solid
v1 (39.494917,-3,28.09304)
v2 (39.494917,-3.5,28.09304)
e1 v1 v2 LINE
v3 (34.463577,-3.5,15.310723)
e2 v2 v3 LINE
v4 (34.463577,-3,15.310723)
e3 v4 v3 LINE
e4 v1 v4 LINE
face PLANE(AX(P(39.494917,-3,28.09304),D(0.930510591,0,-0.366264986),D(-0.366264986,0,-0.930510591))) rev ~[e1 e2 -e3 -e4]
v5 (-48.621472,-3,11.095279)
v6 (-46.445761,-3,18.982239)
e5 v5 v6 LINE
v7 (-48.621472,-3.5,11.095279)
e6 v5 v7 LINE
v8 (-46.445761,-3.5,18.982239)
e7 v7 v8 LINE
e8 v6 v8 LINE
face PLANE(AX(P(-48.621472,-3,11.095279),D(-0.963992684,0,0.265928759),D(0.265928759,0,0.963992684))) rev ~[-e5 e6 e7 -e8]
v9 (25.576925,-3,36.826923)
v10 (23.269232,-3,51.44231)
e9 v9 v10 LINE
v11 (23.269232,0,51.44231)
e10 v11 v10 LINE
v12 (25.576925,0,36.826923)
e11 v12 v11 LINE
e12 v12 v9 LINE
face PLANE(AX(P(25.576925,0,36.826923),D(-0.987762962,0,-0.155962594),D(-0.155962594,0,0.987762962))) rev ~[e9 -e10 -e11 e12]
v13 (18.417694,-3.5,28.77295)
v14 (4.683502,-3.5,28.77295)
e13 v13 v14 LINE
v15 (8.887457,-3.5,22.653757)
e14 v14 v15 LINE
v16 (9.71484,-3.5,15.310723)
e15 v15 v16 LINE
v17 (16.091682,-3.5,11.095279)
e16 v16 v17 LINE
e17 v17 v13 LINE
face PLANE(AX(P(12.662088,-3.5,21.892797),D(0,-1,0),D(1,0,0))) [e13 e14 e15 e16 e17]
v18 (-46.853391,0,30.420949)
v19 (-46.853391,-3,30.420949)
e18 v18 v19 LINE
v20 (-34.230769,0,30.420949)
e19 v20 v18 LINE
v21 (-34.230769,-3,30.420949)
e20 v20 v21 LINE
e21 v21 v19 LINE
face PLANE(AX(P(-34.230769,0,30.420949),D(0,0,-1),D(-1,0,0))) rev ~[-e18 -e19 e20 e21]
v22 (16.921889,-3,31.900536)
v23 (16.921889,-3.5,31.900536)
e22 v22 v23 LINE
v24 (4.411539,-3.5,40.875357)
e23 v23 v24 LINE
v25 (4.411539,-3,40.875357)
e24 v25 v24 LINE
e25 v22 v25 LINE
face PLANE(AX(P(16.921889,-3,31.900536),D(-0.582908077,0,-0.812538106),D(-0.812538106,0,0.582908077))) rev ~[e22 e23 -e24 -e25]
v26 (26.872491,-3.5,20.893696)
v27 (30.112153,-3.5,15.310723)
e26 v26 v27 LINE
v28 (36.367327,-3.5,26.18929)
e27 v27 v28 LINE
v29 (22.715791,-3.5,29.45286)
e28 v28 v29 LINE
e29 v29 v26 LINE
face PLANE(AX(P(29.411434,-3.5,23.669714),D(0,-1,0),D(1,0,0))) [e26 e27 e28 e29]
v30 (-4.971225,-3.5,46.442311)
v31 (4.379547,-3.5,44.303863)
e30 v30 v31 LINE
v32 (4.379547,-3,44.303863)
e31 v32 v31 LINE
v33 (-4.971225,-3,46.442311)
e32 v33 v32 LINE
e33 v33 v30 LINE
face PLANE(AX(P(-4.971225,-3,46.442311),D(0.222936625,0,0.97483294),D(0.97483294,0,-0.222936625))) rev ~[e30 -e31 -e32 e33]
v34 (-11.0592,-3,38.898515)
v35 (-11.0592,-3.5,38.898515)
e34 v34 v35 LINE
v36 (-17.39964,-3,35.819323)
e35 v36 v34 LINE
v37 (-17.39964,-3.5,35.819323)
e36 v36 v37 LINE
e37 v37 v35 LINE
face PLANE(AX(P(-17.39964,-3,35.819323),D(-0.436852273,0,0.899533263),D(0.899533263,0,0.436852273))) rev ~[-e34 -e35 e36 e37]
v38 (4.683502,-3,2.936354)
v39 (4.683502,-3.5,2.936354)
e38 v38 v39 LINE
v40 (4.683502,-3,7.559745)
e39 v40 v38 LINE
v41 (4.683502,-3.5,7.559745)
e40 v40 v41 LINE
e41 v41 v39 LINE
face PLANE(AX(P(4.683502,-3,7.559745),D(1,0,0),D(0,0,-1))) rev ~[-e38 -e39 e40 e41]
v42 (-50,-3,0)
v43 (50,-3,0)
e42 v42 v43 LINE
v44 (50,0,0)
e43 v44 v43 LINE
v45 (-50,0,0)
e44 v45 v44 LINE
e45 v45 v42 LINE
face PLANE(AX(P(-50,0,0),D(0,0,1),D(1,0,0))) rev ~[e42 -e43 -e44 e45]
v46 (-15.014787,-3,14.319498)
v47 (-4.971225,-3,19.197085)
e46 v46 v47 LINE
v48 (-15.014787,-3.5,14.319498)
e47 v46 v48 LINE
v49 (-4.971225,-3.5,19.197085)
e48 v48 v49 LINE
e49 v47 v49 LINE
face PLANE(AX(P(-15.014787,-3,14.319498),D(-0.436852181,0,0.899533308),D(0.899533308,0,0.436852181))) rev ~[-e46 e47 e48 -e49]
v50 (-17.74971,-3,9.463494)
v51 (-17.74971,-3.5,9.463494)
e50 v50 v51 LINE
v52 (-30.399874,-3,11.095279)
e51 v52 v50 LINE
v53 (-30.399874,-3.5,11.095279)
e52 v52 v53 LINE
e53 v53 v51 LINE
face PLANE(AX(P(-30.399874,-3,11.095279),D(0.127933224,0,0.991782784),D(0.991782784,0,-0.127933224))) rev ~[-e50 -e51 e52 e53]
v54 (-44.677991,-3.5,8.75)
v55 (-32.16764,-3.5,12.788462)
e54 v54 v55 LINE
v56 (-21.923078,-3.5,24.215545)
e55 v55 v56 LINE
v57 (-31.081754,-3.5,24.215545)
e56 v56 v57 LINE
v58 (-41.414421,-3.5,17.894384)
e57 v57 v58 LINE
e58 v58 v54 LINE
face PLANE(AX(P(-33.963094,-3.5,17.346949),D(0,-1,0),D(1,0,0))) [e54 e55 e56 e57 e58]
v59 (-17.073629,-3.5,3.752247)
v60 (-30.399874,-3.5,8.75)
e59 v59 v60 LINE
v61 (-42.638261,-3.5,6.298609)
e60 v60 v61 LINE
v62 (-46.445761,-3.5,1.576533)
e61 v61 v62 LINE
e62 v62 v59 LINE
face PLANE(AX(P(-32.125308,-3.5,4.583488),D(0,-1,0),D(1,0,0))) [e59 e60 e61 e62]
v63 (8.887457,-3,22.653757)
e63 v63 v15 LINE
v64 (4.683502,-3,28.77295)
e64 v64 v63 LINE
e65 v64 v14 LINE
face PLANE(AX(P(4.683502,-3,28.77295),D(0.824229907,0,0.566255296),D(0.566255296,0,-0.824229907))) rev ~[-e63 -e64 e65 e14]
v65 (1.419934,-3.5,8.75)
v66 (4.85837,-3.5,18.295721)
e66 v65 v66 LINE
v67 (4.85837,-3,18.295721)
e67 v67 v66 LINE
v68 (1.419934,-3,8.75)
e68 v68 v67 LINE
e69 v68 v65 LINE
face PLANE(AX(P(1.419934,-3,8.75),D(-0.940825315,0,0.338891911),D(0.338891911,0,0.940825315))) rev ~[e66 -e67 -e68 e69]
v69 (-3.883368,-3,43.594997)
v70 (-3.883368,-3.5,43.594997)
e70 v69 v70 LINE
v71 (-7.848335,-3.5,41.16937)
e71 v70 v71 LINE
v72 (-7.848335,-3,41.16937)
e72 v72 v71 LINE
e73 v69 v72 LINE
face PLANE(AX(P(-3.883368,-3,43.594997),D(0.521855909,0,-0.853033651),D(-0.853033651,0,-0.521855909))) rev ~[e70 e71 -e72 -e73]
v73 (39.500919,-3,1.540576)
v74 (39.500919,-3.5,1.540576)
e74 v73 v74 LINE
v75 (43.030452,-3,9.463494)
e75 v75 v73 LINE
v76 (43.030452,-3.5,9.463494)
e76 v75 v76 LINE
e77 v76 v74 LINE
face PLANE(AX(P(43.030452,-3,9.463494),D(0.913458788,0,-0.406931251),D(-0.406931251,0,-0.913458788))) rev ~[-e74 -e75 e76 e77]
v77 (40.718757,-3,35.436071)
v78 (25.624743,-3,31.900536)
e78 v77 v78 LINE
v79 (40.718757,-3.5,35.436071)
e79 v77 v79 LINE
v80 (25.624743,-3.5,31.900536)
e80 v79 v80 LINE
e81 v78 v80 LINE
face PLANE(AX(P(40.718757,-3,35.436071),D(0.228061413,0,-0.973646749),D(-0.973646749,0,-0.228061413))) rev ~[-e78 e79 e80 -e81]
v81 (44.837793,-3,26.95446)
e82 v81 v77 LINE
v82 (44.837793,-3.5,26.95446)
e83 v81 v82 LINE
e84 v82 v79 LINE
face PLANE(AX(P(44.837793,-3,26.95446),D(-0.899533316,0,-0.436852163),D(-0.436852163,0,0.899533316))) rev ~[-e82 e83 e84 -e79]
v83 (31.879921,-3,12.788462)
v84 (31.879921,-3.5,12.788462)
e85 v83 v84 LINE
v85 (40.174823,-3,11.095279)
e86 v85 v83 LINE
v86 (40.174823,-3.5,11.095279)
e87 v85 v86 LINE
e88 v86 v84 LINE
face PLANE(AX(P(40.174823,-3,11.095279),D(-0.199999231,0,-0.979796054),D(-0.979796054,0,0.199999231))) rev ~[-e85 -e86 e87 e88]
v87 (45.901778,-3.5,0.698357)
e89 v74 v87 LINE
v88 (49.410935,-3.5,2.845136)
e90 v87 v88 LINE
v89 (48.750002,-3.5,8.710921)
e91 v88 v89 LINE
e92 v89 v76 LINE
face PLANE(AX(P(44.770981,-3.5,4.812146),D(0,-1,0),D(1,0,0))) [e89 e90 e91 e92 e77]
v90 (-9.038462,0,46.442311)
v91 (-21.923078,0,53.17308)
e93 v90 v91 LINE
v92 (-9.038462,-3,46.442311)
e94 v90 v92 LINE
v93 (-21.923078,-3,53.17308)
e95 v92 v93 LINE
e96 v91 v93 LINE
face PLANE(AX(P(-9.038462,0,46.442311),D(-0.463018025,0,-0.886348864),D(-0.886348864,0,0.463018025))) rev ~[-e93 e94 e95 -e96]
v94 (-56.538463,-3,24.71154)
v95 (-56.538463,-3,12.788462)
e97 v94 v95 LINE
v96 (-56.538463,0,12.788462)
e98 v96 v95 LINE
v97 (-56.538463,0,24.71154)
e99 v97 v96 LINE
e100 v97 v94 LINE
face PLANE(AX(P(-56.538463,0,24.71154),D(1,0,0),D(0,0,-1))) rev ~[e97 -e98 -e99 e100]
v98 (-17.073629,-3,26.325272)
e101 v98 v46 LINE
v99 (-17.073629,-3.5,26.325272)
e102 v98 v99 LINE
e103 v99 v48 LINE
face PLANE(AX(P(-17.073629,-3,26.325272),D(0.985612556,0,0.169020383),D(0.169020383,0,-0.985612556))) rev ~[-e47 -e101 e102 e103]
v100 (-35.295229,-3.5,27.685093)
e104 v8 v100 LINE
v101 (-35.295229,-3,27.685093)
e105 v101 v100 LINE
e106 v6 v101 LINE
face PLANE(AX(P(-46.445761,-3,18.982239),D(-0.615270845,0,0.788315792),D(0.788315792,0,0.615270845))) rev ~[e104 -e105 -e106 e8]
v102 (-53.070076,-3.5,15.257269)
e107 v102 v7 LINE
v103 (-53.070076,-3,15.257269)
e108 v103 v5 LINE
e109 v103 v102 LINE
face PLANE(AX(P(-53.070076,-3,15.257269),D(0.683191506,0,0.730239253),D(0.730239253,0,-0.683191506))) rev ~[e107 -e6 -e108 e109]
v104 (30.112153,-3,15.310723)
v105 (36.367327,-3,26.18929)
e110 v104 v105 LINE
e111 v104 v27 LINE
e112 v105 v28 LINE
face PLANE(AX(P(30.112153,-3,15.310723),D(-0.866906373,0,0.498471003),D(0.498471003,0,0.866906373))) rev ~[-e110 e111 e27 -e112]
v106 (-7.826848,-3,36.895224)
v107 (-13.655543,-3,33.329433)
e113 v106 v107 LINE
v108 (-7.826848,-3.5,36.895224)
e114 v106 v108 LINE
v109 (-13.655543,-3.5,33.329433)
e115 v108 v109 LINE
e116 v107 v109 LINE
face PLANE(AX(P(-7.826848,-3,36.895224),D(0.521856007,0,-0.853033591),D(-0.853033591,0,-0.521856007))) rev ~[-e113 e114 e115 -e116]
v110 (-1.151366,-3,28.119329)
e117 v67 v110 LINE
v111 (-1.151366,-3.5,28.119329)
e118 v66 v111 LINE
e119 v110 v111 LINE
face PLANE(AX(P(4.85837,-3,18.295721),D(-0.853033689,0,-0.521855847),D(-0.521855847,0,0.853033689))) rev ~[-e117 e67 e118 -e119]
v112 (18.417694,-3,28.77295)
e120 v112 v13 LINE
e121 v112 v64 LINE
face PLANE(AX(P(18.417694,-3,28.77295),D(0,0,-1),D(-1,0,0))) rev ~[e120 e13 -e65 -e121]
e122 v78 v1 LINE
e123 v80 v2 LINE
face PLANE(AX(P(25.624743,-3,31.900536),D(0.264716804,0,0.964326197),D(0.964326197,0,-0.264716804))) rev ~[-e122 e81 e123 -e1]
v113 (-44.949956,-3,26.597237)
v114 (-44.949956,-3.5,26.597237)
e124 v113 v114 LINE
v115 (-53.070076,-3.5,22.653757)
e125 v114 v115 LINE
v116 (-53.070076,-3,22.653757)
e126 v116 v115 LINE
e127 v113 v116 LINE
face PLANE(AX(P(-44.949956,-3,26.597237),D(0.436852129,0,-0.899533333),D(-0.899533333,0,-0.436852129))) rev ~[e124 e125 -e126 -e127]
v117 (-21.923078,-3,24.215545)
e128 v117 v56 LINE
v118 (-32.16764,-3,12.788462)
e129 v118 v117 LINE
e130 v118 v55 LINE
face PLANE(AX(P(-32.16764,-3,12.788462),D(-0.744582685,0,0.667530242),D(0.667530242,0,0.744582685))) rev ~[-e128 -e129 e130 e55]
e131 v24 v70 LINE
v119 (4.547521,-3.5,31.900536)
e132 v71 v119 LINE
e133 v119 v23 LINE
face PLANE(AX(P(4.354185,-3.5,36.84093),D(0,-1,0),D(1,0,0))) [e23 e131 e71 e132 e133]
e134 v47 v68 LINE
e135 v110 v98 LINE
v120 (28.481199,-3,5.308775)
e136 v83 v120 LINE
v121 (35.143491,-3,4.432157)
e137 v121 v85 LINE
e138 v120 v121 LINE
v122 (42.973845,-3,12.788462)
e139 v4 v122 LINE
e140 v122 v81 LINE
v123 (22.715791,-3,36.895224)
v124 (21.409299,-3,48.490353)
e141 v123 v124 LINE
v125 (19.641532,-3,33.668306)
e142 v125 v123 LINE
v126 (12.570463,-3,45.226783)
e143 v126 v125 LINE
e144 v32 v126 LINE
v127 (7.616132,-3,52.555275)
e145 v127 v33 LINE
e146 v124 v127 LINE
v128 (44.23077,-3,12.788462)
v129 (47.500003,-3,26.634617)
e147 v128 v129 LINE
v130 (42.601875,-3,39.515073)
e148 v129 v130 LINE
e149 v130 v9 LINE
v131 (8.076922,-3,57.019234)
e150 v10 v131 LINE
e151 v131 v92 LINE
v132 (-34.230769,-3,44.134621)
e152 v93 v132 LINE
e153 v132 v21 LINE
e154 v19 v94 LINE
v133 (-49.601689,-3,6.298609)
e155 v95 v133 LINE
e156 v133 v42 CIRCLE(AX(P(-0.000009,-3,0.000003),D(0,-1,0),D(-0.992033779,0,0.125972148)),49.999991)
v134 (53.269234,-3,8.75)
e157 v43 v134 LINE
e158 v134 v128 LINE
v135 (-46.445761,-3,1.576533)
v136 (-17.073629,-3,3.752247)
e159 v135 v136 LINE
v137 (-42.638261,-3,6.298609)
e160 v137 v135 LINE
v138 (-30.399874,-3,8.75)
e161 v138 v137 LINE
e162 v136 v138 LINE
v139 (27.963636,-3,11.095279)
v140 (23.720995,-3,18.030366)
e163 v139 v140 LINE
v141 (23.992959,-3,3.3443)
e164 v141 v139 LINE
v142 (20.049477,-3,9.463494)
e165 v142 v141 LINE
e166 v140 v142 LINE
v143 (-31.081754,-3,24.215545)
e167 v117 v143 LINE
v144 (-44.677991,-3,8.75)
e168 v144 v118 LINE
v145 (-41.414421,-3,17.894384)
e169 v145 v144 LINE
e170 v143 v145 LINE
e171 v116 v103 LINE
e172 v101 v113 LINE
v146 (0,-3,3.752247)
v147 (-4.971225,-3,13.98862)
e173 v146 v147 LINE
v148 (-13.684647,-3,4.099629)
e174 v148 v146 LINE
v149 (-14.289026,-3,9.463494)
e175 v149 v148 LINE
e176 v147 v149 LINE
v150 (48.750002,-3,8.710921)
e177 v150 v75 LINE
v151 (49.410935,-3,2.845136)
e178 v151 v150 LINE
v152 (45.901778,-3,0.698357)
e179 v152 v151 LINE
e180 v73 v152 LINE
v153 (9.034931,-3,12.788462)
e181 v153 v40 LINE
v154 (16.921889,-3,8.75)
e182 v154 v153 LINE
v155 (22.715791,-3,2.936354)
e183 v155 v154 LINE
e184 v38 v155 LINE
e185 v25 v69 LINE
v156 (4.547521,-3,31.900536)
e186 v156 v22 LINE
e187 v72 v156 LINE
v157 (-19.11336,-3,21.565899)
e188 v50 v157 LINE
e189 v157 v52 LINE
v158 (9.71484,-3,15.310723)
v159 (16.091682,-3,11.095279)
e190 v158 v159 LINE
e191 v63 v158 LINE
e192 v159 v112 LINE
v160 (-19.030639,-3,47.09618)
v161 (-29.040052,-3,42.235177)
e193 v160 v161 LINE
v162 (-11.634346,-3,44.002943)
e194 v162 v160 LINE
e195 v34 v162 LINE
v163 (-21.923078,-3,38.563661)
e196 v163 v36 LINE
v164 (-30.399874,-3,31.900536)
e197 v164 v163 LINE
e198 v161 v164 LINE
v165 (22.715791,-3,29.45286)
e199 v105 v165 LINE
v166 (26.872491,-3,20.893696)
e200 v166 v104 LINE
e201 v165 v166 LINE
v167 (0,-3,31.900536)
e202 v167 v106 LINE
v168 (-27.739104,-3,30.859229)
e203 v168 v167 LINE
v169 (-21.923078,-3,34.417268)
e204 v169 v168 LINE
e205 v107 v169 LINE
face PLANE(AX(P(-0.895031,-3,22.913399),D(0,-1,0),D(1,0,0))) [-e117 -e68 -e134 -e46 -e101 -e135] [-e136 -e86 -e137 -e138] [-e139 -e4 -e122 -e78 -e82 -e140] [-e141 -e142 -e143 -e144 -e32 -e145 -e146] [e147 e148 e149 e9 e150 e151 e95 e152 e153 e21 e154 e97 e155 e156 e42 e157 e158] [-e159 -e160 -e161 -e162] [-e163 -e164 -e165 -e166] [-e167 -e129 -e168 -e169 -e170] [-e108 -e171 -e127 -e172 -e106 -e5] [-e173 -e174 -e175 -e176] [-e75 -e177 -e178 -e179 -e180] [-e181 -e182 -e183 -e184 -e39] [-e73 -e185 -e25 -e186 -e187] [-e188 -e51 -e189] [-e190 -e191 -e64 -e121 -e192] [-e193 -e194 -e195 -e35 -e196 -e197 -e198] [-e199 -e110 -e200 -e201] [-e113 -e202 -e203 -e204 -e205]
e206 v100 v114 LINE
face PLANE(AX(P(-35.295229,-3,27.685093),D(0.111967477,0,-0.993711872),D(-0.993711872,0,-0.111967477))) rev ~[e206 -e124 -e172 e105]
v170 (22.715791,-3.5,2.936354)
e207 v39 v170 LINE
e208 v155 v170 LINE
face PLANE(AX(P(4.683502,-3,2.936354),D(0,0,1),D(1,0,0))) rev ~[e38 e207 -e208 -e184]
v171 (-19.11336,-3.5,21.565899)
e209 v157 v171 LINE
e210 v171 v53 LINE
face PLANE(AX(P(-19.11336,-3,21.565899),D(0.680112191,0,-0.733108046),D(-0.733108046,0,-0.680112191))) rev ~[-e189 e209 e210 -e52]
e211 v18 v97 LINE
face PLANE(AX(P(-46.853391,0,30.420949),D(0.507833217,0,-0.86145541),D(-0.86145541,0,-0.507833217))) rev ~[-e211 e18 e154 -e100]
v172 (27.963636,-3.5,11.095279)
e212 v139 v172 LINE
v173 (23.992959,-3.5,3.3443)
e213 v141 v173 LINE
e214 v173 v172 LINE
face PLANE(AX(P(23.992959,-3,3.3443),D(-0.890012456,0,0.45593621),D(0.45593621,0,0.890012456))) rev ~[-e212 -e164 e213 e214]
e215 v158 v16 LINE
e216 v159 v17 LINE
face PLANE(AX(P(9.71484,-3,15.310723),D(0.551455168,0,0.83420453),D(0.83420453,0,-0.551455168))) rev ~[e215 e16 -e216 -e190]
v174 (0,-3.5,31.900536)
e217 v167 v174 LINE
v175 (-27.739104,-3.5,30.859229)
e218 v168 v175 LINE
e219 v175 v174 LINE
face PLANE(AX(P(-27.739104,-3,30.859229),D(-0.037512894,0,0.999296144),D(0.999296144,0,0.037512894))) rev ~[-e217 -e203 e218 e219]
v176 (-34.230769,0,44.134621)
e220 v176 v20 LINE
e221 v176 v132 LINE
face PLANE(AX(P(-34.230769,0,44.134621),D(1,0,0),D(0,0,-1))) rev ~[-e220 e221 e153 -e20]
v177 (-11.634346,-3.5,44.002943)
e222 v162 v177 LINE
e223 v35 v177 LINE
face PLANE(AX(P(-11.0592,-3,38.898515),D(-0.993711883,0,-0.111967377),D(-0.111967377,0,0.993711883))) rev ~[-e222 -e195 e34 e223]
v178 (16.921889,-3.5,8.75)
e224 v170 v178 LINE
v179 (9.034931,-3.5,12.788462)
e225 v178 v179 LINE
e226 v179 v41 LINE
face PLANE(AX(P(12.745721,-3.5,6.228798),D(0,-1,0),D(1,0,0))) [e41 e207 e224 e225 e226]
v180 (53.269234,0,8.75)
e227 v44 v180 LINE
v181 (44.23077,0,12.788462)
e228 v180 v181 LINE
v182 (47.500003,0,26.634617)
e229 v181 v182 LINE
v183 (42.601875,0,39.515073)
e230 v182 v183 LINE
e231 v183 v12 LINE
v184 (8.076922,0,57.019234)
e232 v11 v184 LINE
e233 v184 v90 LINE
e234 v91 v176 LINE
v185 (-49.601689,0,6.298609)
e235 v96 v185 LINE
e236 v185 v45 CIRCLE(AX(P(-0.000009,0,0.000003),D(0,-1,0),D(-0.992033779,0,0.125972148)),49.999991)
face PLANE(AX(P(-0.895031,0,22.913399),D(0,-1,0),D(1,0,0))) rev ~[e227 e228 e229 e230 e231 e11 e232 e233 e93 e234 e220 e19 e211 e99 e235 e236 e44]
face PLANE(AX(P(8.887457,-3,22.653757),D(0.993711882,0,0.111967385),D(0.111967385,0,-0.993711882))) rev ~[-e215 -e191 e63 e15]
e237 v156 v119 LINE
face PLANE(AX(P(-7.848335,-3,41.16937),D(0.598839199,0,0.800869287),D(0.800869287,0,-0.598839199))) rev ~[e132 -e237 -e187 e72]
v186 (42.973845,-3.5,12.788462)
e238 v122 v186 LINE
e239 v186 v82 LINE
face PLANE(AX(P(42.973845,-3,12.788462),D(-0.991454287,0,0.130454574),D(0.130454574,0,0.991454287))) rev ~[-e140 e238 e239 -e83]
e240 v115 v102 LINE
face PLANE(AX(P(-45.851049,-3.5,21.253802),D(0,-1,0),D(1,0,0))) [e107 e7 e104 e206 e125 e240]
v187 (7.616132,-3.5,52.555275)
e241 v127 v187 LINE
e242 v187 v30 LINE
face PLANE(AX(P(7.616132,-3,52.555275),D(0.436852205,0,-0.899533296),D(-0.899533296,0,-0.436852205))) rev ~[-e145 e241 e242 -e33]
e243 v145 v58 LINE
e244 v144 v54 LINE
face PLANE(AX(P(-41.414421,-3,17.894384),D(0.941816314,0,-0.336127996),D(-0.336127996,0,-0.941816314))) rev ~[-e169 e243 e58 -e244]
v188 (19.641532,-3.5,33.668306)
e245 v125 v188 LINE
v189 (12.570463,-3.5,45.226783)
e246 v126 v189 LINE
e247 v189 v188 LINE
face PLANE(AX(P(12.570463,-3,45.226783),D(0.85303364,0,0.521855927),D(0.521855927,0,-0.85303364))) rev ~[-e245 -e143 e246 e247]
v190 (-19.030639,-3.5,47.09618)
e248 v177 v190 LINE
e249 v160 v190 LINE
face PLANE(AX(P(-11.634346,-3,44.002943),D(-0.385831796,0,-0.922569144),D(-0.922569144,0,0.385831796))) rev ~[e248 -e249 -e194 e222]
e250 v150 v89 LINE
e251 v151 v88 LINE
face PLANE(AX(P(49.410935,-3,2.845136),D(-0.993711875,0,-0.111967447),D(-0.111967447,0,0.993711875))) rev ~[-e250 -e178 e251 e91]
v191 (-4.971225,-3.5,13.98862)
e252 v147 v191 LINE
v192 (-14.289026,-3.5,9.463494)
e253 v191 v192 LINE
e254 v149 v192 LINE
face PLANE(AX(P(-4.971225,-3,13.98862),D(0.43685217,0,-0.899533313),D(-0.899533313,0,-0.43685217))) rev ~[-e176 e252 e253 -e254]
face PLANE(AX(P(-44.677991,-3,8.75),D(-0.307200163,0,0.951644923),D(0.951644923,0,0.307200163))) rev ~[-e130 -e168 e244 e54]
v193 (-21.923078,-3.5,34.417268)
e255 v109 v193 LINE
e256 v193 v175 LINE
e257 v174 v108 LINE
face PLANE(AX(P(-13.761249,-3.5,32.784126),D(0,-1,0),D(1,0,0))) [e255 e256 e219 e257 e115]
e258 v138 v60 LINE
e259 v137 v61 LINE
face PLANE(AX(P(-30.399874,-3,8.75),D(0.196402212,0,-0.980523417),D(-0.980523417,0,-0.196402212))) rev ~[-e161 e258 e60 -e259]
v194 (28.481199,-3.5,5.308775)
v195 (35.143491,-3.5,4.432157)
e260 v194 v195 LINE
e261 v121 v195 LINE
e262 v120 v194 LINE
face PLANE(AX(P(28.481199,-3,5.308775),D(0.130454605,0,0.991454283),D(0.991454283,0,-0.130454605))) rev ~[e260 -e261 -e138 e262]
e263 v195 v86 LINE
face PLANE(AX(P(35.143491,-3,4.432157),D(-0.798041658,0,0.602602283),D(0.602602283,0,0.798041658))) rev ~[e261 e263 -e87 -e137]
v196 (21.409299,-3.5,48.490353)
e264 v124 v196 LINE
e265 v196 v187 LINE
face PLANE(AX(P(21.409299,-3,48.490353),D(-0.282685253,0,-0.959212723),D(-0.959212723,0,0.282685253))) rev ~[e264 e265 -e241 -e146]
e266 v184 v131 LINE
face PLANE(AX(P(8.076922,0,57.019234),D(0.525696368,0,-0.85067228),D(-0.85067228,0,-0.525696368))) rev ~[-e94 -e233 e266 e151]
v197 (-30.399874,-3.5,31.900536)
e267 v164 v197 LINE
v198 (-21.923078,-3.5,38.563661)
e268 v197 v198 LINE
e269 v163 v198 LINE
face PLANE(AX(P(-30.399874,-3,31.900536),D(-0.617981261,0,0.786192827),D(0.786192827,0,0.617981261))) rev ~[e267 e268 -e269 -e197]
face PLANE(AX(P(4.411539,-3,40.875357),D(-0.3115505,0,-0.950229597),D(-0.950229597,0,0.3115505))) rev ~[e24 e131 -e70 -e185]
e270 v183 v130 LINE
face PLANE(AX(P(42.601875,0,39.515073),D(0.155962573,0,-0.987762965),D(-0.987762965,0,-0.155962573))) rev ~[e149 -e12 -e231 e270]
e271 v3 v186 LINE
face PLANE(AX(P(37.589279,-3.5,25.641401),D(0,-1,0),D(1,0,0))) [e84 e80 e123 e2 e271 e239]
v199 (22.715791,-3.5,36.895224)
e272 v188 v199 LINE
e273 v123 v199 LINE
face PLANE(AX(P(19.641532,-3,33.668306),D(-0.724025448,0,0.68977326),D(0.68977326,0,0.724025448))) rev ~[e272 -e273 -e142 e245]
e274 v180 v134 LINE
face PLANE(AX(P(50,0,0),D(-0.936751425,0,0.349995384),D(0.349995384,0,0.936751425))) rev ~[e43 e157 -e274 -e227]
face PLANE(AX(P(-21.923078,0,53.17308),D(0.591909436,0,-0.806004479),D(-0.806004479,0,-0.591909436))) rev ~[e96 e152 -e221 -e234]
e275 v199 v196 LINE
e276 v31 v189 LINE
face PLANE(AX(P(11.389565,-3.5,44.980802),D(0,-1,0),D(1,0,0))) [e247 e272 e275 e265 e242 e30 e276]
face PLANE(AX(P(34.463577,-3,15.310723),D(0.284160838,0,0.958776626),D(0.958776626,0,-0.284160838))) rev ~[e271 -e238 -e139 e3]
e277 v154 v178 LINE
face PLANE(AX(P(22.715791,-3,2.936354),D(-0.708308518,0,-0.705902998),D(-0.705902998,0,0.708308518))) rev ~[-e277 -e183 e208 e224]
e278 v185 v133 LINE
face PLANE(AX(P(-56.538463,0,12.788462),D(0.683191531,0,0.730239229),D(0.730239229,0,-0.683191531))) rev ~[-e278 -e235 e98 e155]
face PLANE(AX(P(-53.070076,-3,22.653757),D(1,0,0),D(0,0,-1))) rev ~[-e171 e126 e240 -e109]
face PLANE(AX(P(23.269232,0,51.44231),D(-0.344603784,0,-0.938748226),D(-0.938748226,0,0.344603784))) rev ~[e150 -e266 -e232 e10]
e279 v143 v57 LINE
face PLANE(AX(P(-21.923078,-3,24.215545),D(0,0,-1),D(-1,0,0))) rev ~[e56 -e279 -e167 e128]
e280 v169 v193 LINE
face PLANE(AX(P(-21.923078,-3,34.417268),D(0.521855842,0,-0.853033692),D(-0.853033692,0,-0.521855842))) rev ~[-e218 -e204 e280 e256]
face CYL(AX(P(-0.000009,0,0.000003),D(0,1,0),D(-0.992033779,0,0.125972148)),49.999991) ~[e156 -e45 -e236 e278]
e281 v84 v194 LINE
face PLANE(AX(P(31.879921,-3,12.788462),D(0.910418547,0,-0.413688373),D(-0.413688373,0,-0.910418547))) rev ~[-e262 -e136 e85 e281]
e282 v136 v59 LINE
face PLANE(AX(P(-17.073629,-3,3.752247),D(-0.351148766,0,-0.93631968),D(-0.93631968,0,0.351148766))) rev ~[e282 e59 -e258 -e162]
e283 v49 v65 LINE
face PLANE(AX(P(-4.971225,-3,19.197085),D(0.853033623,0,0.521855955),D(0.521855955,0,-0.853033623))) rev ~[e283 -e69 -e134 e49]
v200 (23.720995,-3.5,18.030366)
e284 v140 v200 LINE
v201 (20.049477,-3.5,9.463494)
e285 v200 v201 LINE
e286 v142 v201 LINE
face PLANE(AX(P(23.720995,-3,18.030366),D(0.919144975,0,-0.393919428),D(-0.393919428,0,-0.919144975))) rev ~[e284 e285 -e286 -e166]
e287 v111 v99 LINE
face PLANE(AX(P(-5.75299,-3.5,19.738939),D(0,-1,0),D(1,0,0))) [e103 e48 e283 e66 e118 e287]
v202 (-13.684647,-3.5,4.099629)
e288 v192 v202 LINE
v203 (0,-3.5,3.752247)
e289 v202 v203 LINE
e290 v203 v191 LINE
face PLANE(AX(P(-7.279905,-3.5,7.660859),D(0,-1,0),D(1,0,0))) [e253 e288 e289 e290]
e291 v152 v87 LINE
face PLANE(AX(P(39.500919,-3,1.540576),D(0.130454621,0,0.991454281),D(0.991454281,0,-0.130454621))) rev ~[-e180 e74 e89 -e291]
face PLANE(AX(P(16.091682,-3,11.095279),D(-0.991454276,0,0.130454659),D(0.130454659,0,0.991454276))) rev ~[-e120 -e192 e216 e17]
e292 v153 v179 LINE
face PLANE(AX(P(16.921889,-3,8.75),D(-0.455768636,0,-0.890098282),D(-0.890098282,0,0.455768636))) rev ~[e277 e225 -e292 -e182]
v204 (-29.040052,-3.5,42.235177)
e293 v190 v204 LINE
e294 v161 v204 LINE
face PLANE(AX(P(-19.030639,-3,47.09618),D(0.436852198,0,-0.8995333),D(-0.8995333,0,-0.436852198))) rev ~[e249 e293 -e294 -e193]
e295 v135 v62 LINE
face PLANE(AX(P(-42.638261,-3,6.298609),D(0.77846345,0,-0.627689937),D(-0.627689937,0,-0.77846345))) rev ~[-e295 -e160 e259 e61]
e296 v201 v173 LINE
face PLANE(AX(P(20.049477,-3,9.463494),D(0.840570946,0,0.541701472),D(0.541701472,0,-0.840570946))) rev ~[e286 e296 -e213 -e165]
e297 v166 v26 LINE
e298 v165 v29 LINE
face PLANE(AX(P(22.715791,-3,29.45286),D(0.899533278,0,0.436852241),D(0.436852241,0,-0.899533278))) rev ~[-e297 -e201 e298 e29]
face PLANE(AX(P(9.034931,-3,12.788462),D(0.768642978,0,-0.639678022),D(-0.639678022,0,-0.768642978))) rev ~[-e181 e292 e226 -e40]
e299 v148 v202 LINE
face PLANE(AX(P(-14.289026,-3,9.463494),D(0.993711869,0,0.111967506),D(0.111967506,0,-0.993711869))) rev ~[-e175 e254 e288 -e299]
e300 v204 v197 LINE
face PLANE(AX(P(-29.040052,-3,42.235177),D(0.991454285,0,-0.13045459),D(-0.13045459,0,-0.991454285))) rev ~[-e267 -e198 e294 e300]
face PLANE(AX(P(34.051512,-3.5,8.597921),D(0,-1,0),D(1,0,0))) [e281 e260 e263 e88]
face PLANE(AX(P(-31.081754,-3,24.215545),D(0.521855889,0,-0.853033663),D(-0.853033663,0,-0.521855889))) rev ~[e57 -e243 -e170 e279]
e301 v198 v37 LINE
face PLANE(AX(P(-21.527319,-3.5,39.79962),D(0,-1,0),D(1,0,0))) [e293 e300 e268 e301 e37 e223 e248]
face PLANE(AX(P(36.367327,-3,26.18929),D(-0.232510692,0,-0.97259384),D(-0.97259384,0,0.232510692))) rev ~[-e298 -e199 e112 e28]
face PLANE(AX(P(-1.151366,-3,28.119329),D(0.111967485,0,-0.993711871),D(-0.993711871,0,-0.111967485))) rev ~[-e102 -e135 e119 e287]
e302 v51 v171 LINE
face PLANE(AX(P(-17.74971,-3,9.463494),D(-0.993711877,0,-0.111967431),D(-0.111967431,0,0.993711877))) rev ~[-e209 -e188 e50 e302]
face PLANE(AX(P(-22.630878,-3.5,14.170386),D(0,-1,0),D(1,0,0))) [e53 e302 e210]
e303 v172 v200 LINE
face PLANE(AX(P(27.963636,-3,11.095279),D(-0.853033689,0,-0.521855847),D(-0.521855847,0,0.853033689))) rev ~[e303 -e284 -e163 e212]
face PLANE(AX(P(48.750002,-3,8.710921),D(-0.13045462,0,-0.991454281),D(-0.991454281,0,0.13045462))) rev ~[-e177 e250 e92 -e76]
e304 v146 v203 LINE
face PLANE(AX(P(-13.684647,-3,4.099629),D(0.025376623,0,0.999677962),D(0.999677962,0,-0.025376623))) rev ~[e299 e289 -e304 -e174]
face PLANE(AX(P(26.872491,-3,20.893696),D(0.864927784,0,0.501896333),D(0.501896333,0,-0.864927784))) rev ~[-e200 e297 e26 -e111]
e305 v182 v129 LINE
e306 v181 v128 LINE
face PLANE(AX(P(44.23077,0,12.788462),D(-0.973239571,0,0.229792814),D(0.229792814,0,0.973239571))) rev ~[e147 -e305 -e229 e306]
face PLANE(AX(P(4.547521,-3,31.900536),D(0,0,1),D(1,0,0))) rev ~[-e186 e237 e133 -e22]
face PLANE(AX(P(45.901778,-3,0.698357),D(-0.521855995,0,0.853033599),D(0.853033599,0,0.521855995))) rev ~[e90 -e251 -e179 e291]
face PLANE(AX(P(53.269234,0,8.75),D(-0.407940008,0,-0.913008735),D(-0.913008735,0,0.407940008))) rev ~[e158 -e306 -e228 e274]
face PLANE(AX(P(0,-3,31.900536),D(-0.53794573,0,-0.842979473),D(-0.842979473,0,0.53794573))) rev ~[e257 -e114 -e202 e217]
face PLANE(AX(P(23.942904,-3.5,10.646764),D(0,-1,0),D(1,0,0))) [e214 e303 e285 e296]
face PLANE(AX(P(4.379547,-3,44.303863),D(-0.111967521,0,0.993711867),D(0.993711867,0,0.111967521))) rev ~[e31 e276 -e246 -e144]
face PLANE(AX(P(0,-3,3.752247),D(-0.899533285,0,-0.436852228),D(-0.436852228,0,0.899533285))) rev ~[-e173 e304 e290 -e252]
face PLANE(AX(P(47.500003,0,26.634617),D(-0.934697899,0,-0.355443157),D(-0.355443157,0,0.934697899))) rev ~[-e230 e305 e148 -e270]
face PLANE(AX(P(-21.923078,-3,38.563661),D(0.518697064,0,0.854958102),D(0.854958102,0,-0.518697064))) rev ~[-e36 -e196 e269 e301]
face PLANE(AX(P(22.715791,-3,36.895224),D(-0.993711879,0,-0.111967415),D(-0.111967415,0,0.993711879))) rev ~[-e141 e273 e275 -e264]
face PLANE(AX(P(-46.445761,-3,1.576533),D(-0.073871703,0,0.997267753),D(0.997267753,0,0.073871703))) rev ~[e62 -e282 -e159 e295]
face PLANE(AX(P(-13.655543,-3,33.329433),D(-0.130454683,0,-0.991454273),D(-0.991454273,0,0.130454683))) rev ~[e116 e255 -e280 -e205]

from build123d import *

# Parameters (mm, degrees)
F1_DEPTH = 3
F3_DEPTH = 0.5


with BuildPart() as f1:
    # F0 (on Front) → F1 (new body)
    with BuildSketch(Plane.XZ):
        with BuildLine():
            ThreePointArc((-49.601689, 6.298609), (-49.900323, 3.155595), (-50, 0))
            Line((-50, 0), (50, 0))
            Line((50, 0), (53.269234, 8.75))
            Line((53.269234, 8.75), (44.23077, 12.788462))
            Line((44.23077, 12.788462), (47.500003, 26.634617))
            Line((47.500003, 26.634617), (42.601875, 39.515073))
            Line((42.601875, 39.515073), (25.576925, 36.826923))
            Line((25.576925, 36.826923), (23.269232, 51.44231))
            Line((23.269232, 51.44231), (8.076922, 57.019234))
            Line((8.076922, 57.019234), (-9.038462, 46.442311))
            Line((-9.038462, 46.442311), (-21.923078, 53.17308))
            Line((-21.923078, 53.17308), (-34.230769, 44.134621))
            Line((-34.230769, 44.134621), (-34.230769, 30.420949))
            Line((-34.230769, 30.420949), (-46.853391, 30.420949))
            Line((-46.853391, 30.420949), (-56.538463, 24.71154))
            Line((-56.538463, 24.71154), (-56.538463, 12.788462))
            Line((-56.538463, 12.788462), (-49.601689, 6.298609))
        make_face()
    extrude(amount=F1_DEPTH)

    # F2 (on face) → F3 (join)
    with BuildSketch(Plane.XZ.offset(3)):
        Polygon((-53.070076, 15.257269), (-48.621472, 11.095279), (-46.445761, 18.982239), (-35.295229, 27.685093), (-44.949956, 26.597237), (-53.070076, 22.653757), align=None)
        Polygon((-29.040052, 42.235177), (-30.399874, 31.900536), (-21.923078, 38.563661), (-17.39964, 35.819323), (-11.0592, 38.898515), (-11.634346, 44.002943), (-19.030639, 47.09618), align=None)
        Polygon((7.616132, 52.555275), (-4.971225, 46.442311), (4.379547, 44.303863), (12.570463, 45.226783), (19.641532, 33.668306), (22.715791, 36.895224), (21.409299, 48.490353), align=None)
        Polygon((40.718757, 35.436071), (25.624743, 31.900536), (39.494917, 28.09304), (34.463577, 15.310723), (42.973845, 12.788462), (44.837793, 26.95446), align=None)
        Polygon((48.750002, 8.710921), (43.030452, 9.463494), (39.500919, 1.540576), (45.901778, 0.698357), (49.410935, 2.845136), align=None)
        Polygon((35.143491, 4.432157), (40.174823, 11.095279), (31.879921, 12.788462), (28.481199, 5.308775), align=None)
        Polygon((26.872491, 20.893696), (30.112153, 15.310723), (36.367327, 26.18929), (22.715791, 29.45286), align=None)
        Polygon((4.547521, 31.900536), (16.921889, 31.900536), (4.411539, 40.875357), (-3.883368, 43.594997), (-7.848335, 41.16937), align=None)
        Polygon((-27.739104, 30.859229), (0, 31.900536), (-7.826848, 36.895224), (-13.655543, 33.329433), (-21.923078, 34.417268), align=None)
        Polygon((-41.414421, 17.894384), (-44.677991, 8.75), (-32.16764, 12.788462), (-21.923078, 24.215545), (-31.081754, 24.215545), align=None)
        Polygon((-1.151366, 28.119329), (-17.073629, 26.325272), (-15.014787, 14.319498), (-4.971225, 19.197085), (1.419934, 8.75), (4.85837, 18.295721), align=None)
        Polygon((-19.11336, 21.565899), (-30.399874, 11.095279), (-17.74971, 9.463494), align=None)
        Polygon((18.417694, 28.77295), (4.683502, 28.77295), (8.887457, 22.653757), (9.71484, 15.310723), (16.091682, 11.095279), align=None)
        Polygon((23.720995, 18.030366), (20.049477, 9.463494), (23.992959, 3.3443), (27.963636, 11.095279), align=None)
        Polygon((9.034931, 12.788462), (4.683502, 7.559745), (4.683502, 2.936354), (22.715791, 2.936354), (16.921889, 8.75), align=None)
        Polygon((-13.684647, 4.099629), (0, 3.752247), (-4.971225, 13.98862), (-14.289026, 9.463494), align=None)
        Polygon((-46.445761, 1.576533), (-17.073629, 3.752247), (-30.399874, 8.75), (-42.638261, 6.298609), align=None)
    extrude(amount=F3_DEPTH)


solid = f1.part
